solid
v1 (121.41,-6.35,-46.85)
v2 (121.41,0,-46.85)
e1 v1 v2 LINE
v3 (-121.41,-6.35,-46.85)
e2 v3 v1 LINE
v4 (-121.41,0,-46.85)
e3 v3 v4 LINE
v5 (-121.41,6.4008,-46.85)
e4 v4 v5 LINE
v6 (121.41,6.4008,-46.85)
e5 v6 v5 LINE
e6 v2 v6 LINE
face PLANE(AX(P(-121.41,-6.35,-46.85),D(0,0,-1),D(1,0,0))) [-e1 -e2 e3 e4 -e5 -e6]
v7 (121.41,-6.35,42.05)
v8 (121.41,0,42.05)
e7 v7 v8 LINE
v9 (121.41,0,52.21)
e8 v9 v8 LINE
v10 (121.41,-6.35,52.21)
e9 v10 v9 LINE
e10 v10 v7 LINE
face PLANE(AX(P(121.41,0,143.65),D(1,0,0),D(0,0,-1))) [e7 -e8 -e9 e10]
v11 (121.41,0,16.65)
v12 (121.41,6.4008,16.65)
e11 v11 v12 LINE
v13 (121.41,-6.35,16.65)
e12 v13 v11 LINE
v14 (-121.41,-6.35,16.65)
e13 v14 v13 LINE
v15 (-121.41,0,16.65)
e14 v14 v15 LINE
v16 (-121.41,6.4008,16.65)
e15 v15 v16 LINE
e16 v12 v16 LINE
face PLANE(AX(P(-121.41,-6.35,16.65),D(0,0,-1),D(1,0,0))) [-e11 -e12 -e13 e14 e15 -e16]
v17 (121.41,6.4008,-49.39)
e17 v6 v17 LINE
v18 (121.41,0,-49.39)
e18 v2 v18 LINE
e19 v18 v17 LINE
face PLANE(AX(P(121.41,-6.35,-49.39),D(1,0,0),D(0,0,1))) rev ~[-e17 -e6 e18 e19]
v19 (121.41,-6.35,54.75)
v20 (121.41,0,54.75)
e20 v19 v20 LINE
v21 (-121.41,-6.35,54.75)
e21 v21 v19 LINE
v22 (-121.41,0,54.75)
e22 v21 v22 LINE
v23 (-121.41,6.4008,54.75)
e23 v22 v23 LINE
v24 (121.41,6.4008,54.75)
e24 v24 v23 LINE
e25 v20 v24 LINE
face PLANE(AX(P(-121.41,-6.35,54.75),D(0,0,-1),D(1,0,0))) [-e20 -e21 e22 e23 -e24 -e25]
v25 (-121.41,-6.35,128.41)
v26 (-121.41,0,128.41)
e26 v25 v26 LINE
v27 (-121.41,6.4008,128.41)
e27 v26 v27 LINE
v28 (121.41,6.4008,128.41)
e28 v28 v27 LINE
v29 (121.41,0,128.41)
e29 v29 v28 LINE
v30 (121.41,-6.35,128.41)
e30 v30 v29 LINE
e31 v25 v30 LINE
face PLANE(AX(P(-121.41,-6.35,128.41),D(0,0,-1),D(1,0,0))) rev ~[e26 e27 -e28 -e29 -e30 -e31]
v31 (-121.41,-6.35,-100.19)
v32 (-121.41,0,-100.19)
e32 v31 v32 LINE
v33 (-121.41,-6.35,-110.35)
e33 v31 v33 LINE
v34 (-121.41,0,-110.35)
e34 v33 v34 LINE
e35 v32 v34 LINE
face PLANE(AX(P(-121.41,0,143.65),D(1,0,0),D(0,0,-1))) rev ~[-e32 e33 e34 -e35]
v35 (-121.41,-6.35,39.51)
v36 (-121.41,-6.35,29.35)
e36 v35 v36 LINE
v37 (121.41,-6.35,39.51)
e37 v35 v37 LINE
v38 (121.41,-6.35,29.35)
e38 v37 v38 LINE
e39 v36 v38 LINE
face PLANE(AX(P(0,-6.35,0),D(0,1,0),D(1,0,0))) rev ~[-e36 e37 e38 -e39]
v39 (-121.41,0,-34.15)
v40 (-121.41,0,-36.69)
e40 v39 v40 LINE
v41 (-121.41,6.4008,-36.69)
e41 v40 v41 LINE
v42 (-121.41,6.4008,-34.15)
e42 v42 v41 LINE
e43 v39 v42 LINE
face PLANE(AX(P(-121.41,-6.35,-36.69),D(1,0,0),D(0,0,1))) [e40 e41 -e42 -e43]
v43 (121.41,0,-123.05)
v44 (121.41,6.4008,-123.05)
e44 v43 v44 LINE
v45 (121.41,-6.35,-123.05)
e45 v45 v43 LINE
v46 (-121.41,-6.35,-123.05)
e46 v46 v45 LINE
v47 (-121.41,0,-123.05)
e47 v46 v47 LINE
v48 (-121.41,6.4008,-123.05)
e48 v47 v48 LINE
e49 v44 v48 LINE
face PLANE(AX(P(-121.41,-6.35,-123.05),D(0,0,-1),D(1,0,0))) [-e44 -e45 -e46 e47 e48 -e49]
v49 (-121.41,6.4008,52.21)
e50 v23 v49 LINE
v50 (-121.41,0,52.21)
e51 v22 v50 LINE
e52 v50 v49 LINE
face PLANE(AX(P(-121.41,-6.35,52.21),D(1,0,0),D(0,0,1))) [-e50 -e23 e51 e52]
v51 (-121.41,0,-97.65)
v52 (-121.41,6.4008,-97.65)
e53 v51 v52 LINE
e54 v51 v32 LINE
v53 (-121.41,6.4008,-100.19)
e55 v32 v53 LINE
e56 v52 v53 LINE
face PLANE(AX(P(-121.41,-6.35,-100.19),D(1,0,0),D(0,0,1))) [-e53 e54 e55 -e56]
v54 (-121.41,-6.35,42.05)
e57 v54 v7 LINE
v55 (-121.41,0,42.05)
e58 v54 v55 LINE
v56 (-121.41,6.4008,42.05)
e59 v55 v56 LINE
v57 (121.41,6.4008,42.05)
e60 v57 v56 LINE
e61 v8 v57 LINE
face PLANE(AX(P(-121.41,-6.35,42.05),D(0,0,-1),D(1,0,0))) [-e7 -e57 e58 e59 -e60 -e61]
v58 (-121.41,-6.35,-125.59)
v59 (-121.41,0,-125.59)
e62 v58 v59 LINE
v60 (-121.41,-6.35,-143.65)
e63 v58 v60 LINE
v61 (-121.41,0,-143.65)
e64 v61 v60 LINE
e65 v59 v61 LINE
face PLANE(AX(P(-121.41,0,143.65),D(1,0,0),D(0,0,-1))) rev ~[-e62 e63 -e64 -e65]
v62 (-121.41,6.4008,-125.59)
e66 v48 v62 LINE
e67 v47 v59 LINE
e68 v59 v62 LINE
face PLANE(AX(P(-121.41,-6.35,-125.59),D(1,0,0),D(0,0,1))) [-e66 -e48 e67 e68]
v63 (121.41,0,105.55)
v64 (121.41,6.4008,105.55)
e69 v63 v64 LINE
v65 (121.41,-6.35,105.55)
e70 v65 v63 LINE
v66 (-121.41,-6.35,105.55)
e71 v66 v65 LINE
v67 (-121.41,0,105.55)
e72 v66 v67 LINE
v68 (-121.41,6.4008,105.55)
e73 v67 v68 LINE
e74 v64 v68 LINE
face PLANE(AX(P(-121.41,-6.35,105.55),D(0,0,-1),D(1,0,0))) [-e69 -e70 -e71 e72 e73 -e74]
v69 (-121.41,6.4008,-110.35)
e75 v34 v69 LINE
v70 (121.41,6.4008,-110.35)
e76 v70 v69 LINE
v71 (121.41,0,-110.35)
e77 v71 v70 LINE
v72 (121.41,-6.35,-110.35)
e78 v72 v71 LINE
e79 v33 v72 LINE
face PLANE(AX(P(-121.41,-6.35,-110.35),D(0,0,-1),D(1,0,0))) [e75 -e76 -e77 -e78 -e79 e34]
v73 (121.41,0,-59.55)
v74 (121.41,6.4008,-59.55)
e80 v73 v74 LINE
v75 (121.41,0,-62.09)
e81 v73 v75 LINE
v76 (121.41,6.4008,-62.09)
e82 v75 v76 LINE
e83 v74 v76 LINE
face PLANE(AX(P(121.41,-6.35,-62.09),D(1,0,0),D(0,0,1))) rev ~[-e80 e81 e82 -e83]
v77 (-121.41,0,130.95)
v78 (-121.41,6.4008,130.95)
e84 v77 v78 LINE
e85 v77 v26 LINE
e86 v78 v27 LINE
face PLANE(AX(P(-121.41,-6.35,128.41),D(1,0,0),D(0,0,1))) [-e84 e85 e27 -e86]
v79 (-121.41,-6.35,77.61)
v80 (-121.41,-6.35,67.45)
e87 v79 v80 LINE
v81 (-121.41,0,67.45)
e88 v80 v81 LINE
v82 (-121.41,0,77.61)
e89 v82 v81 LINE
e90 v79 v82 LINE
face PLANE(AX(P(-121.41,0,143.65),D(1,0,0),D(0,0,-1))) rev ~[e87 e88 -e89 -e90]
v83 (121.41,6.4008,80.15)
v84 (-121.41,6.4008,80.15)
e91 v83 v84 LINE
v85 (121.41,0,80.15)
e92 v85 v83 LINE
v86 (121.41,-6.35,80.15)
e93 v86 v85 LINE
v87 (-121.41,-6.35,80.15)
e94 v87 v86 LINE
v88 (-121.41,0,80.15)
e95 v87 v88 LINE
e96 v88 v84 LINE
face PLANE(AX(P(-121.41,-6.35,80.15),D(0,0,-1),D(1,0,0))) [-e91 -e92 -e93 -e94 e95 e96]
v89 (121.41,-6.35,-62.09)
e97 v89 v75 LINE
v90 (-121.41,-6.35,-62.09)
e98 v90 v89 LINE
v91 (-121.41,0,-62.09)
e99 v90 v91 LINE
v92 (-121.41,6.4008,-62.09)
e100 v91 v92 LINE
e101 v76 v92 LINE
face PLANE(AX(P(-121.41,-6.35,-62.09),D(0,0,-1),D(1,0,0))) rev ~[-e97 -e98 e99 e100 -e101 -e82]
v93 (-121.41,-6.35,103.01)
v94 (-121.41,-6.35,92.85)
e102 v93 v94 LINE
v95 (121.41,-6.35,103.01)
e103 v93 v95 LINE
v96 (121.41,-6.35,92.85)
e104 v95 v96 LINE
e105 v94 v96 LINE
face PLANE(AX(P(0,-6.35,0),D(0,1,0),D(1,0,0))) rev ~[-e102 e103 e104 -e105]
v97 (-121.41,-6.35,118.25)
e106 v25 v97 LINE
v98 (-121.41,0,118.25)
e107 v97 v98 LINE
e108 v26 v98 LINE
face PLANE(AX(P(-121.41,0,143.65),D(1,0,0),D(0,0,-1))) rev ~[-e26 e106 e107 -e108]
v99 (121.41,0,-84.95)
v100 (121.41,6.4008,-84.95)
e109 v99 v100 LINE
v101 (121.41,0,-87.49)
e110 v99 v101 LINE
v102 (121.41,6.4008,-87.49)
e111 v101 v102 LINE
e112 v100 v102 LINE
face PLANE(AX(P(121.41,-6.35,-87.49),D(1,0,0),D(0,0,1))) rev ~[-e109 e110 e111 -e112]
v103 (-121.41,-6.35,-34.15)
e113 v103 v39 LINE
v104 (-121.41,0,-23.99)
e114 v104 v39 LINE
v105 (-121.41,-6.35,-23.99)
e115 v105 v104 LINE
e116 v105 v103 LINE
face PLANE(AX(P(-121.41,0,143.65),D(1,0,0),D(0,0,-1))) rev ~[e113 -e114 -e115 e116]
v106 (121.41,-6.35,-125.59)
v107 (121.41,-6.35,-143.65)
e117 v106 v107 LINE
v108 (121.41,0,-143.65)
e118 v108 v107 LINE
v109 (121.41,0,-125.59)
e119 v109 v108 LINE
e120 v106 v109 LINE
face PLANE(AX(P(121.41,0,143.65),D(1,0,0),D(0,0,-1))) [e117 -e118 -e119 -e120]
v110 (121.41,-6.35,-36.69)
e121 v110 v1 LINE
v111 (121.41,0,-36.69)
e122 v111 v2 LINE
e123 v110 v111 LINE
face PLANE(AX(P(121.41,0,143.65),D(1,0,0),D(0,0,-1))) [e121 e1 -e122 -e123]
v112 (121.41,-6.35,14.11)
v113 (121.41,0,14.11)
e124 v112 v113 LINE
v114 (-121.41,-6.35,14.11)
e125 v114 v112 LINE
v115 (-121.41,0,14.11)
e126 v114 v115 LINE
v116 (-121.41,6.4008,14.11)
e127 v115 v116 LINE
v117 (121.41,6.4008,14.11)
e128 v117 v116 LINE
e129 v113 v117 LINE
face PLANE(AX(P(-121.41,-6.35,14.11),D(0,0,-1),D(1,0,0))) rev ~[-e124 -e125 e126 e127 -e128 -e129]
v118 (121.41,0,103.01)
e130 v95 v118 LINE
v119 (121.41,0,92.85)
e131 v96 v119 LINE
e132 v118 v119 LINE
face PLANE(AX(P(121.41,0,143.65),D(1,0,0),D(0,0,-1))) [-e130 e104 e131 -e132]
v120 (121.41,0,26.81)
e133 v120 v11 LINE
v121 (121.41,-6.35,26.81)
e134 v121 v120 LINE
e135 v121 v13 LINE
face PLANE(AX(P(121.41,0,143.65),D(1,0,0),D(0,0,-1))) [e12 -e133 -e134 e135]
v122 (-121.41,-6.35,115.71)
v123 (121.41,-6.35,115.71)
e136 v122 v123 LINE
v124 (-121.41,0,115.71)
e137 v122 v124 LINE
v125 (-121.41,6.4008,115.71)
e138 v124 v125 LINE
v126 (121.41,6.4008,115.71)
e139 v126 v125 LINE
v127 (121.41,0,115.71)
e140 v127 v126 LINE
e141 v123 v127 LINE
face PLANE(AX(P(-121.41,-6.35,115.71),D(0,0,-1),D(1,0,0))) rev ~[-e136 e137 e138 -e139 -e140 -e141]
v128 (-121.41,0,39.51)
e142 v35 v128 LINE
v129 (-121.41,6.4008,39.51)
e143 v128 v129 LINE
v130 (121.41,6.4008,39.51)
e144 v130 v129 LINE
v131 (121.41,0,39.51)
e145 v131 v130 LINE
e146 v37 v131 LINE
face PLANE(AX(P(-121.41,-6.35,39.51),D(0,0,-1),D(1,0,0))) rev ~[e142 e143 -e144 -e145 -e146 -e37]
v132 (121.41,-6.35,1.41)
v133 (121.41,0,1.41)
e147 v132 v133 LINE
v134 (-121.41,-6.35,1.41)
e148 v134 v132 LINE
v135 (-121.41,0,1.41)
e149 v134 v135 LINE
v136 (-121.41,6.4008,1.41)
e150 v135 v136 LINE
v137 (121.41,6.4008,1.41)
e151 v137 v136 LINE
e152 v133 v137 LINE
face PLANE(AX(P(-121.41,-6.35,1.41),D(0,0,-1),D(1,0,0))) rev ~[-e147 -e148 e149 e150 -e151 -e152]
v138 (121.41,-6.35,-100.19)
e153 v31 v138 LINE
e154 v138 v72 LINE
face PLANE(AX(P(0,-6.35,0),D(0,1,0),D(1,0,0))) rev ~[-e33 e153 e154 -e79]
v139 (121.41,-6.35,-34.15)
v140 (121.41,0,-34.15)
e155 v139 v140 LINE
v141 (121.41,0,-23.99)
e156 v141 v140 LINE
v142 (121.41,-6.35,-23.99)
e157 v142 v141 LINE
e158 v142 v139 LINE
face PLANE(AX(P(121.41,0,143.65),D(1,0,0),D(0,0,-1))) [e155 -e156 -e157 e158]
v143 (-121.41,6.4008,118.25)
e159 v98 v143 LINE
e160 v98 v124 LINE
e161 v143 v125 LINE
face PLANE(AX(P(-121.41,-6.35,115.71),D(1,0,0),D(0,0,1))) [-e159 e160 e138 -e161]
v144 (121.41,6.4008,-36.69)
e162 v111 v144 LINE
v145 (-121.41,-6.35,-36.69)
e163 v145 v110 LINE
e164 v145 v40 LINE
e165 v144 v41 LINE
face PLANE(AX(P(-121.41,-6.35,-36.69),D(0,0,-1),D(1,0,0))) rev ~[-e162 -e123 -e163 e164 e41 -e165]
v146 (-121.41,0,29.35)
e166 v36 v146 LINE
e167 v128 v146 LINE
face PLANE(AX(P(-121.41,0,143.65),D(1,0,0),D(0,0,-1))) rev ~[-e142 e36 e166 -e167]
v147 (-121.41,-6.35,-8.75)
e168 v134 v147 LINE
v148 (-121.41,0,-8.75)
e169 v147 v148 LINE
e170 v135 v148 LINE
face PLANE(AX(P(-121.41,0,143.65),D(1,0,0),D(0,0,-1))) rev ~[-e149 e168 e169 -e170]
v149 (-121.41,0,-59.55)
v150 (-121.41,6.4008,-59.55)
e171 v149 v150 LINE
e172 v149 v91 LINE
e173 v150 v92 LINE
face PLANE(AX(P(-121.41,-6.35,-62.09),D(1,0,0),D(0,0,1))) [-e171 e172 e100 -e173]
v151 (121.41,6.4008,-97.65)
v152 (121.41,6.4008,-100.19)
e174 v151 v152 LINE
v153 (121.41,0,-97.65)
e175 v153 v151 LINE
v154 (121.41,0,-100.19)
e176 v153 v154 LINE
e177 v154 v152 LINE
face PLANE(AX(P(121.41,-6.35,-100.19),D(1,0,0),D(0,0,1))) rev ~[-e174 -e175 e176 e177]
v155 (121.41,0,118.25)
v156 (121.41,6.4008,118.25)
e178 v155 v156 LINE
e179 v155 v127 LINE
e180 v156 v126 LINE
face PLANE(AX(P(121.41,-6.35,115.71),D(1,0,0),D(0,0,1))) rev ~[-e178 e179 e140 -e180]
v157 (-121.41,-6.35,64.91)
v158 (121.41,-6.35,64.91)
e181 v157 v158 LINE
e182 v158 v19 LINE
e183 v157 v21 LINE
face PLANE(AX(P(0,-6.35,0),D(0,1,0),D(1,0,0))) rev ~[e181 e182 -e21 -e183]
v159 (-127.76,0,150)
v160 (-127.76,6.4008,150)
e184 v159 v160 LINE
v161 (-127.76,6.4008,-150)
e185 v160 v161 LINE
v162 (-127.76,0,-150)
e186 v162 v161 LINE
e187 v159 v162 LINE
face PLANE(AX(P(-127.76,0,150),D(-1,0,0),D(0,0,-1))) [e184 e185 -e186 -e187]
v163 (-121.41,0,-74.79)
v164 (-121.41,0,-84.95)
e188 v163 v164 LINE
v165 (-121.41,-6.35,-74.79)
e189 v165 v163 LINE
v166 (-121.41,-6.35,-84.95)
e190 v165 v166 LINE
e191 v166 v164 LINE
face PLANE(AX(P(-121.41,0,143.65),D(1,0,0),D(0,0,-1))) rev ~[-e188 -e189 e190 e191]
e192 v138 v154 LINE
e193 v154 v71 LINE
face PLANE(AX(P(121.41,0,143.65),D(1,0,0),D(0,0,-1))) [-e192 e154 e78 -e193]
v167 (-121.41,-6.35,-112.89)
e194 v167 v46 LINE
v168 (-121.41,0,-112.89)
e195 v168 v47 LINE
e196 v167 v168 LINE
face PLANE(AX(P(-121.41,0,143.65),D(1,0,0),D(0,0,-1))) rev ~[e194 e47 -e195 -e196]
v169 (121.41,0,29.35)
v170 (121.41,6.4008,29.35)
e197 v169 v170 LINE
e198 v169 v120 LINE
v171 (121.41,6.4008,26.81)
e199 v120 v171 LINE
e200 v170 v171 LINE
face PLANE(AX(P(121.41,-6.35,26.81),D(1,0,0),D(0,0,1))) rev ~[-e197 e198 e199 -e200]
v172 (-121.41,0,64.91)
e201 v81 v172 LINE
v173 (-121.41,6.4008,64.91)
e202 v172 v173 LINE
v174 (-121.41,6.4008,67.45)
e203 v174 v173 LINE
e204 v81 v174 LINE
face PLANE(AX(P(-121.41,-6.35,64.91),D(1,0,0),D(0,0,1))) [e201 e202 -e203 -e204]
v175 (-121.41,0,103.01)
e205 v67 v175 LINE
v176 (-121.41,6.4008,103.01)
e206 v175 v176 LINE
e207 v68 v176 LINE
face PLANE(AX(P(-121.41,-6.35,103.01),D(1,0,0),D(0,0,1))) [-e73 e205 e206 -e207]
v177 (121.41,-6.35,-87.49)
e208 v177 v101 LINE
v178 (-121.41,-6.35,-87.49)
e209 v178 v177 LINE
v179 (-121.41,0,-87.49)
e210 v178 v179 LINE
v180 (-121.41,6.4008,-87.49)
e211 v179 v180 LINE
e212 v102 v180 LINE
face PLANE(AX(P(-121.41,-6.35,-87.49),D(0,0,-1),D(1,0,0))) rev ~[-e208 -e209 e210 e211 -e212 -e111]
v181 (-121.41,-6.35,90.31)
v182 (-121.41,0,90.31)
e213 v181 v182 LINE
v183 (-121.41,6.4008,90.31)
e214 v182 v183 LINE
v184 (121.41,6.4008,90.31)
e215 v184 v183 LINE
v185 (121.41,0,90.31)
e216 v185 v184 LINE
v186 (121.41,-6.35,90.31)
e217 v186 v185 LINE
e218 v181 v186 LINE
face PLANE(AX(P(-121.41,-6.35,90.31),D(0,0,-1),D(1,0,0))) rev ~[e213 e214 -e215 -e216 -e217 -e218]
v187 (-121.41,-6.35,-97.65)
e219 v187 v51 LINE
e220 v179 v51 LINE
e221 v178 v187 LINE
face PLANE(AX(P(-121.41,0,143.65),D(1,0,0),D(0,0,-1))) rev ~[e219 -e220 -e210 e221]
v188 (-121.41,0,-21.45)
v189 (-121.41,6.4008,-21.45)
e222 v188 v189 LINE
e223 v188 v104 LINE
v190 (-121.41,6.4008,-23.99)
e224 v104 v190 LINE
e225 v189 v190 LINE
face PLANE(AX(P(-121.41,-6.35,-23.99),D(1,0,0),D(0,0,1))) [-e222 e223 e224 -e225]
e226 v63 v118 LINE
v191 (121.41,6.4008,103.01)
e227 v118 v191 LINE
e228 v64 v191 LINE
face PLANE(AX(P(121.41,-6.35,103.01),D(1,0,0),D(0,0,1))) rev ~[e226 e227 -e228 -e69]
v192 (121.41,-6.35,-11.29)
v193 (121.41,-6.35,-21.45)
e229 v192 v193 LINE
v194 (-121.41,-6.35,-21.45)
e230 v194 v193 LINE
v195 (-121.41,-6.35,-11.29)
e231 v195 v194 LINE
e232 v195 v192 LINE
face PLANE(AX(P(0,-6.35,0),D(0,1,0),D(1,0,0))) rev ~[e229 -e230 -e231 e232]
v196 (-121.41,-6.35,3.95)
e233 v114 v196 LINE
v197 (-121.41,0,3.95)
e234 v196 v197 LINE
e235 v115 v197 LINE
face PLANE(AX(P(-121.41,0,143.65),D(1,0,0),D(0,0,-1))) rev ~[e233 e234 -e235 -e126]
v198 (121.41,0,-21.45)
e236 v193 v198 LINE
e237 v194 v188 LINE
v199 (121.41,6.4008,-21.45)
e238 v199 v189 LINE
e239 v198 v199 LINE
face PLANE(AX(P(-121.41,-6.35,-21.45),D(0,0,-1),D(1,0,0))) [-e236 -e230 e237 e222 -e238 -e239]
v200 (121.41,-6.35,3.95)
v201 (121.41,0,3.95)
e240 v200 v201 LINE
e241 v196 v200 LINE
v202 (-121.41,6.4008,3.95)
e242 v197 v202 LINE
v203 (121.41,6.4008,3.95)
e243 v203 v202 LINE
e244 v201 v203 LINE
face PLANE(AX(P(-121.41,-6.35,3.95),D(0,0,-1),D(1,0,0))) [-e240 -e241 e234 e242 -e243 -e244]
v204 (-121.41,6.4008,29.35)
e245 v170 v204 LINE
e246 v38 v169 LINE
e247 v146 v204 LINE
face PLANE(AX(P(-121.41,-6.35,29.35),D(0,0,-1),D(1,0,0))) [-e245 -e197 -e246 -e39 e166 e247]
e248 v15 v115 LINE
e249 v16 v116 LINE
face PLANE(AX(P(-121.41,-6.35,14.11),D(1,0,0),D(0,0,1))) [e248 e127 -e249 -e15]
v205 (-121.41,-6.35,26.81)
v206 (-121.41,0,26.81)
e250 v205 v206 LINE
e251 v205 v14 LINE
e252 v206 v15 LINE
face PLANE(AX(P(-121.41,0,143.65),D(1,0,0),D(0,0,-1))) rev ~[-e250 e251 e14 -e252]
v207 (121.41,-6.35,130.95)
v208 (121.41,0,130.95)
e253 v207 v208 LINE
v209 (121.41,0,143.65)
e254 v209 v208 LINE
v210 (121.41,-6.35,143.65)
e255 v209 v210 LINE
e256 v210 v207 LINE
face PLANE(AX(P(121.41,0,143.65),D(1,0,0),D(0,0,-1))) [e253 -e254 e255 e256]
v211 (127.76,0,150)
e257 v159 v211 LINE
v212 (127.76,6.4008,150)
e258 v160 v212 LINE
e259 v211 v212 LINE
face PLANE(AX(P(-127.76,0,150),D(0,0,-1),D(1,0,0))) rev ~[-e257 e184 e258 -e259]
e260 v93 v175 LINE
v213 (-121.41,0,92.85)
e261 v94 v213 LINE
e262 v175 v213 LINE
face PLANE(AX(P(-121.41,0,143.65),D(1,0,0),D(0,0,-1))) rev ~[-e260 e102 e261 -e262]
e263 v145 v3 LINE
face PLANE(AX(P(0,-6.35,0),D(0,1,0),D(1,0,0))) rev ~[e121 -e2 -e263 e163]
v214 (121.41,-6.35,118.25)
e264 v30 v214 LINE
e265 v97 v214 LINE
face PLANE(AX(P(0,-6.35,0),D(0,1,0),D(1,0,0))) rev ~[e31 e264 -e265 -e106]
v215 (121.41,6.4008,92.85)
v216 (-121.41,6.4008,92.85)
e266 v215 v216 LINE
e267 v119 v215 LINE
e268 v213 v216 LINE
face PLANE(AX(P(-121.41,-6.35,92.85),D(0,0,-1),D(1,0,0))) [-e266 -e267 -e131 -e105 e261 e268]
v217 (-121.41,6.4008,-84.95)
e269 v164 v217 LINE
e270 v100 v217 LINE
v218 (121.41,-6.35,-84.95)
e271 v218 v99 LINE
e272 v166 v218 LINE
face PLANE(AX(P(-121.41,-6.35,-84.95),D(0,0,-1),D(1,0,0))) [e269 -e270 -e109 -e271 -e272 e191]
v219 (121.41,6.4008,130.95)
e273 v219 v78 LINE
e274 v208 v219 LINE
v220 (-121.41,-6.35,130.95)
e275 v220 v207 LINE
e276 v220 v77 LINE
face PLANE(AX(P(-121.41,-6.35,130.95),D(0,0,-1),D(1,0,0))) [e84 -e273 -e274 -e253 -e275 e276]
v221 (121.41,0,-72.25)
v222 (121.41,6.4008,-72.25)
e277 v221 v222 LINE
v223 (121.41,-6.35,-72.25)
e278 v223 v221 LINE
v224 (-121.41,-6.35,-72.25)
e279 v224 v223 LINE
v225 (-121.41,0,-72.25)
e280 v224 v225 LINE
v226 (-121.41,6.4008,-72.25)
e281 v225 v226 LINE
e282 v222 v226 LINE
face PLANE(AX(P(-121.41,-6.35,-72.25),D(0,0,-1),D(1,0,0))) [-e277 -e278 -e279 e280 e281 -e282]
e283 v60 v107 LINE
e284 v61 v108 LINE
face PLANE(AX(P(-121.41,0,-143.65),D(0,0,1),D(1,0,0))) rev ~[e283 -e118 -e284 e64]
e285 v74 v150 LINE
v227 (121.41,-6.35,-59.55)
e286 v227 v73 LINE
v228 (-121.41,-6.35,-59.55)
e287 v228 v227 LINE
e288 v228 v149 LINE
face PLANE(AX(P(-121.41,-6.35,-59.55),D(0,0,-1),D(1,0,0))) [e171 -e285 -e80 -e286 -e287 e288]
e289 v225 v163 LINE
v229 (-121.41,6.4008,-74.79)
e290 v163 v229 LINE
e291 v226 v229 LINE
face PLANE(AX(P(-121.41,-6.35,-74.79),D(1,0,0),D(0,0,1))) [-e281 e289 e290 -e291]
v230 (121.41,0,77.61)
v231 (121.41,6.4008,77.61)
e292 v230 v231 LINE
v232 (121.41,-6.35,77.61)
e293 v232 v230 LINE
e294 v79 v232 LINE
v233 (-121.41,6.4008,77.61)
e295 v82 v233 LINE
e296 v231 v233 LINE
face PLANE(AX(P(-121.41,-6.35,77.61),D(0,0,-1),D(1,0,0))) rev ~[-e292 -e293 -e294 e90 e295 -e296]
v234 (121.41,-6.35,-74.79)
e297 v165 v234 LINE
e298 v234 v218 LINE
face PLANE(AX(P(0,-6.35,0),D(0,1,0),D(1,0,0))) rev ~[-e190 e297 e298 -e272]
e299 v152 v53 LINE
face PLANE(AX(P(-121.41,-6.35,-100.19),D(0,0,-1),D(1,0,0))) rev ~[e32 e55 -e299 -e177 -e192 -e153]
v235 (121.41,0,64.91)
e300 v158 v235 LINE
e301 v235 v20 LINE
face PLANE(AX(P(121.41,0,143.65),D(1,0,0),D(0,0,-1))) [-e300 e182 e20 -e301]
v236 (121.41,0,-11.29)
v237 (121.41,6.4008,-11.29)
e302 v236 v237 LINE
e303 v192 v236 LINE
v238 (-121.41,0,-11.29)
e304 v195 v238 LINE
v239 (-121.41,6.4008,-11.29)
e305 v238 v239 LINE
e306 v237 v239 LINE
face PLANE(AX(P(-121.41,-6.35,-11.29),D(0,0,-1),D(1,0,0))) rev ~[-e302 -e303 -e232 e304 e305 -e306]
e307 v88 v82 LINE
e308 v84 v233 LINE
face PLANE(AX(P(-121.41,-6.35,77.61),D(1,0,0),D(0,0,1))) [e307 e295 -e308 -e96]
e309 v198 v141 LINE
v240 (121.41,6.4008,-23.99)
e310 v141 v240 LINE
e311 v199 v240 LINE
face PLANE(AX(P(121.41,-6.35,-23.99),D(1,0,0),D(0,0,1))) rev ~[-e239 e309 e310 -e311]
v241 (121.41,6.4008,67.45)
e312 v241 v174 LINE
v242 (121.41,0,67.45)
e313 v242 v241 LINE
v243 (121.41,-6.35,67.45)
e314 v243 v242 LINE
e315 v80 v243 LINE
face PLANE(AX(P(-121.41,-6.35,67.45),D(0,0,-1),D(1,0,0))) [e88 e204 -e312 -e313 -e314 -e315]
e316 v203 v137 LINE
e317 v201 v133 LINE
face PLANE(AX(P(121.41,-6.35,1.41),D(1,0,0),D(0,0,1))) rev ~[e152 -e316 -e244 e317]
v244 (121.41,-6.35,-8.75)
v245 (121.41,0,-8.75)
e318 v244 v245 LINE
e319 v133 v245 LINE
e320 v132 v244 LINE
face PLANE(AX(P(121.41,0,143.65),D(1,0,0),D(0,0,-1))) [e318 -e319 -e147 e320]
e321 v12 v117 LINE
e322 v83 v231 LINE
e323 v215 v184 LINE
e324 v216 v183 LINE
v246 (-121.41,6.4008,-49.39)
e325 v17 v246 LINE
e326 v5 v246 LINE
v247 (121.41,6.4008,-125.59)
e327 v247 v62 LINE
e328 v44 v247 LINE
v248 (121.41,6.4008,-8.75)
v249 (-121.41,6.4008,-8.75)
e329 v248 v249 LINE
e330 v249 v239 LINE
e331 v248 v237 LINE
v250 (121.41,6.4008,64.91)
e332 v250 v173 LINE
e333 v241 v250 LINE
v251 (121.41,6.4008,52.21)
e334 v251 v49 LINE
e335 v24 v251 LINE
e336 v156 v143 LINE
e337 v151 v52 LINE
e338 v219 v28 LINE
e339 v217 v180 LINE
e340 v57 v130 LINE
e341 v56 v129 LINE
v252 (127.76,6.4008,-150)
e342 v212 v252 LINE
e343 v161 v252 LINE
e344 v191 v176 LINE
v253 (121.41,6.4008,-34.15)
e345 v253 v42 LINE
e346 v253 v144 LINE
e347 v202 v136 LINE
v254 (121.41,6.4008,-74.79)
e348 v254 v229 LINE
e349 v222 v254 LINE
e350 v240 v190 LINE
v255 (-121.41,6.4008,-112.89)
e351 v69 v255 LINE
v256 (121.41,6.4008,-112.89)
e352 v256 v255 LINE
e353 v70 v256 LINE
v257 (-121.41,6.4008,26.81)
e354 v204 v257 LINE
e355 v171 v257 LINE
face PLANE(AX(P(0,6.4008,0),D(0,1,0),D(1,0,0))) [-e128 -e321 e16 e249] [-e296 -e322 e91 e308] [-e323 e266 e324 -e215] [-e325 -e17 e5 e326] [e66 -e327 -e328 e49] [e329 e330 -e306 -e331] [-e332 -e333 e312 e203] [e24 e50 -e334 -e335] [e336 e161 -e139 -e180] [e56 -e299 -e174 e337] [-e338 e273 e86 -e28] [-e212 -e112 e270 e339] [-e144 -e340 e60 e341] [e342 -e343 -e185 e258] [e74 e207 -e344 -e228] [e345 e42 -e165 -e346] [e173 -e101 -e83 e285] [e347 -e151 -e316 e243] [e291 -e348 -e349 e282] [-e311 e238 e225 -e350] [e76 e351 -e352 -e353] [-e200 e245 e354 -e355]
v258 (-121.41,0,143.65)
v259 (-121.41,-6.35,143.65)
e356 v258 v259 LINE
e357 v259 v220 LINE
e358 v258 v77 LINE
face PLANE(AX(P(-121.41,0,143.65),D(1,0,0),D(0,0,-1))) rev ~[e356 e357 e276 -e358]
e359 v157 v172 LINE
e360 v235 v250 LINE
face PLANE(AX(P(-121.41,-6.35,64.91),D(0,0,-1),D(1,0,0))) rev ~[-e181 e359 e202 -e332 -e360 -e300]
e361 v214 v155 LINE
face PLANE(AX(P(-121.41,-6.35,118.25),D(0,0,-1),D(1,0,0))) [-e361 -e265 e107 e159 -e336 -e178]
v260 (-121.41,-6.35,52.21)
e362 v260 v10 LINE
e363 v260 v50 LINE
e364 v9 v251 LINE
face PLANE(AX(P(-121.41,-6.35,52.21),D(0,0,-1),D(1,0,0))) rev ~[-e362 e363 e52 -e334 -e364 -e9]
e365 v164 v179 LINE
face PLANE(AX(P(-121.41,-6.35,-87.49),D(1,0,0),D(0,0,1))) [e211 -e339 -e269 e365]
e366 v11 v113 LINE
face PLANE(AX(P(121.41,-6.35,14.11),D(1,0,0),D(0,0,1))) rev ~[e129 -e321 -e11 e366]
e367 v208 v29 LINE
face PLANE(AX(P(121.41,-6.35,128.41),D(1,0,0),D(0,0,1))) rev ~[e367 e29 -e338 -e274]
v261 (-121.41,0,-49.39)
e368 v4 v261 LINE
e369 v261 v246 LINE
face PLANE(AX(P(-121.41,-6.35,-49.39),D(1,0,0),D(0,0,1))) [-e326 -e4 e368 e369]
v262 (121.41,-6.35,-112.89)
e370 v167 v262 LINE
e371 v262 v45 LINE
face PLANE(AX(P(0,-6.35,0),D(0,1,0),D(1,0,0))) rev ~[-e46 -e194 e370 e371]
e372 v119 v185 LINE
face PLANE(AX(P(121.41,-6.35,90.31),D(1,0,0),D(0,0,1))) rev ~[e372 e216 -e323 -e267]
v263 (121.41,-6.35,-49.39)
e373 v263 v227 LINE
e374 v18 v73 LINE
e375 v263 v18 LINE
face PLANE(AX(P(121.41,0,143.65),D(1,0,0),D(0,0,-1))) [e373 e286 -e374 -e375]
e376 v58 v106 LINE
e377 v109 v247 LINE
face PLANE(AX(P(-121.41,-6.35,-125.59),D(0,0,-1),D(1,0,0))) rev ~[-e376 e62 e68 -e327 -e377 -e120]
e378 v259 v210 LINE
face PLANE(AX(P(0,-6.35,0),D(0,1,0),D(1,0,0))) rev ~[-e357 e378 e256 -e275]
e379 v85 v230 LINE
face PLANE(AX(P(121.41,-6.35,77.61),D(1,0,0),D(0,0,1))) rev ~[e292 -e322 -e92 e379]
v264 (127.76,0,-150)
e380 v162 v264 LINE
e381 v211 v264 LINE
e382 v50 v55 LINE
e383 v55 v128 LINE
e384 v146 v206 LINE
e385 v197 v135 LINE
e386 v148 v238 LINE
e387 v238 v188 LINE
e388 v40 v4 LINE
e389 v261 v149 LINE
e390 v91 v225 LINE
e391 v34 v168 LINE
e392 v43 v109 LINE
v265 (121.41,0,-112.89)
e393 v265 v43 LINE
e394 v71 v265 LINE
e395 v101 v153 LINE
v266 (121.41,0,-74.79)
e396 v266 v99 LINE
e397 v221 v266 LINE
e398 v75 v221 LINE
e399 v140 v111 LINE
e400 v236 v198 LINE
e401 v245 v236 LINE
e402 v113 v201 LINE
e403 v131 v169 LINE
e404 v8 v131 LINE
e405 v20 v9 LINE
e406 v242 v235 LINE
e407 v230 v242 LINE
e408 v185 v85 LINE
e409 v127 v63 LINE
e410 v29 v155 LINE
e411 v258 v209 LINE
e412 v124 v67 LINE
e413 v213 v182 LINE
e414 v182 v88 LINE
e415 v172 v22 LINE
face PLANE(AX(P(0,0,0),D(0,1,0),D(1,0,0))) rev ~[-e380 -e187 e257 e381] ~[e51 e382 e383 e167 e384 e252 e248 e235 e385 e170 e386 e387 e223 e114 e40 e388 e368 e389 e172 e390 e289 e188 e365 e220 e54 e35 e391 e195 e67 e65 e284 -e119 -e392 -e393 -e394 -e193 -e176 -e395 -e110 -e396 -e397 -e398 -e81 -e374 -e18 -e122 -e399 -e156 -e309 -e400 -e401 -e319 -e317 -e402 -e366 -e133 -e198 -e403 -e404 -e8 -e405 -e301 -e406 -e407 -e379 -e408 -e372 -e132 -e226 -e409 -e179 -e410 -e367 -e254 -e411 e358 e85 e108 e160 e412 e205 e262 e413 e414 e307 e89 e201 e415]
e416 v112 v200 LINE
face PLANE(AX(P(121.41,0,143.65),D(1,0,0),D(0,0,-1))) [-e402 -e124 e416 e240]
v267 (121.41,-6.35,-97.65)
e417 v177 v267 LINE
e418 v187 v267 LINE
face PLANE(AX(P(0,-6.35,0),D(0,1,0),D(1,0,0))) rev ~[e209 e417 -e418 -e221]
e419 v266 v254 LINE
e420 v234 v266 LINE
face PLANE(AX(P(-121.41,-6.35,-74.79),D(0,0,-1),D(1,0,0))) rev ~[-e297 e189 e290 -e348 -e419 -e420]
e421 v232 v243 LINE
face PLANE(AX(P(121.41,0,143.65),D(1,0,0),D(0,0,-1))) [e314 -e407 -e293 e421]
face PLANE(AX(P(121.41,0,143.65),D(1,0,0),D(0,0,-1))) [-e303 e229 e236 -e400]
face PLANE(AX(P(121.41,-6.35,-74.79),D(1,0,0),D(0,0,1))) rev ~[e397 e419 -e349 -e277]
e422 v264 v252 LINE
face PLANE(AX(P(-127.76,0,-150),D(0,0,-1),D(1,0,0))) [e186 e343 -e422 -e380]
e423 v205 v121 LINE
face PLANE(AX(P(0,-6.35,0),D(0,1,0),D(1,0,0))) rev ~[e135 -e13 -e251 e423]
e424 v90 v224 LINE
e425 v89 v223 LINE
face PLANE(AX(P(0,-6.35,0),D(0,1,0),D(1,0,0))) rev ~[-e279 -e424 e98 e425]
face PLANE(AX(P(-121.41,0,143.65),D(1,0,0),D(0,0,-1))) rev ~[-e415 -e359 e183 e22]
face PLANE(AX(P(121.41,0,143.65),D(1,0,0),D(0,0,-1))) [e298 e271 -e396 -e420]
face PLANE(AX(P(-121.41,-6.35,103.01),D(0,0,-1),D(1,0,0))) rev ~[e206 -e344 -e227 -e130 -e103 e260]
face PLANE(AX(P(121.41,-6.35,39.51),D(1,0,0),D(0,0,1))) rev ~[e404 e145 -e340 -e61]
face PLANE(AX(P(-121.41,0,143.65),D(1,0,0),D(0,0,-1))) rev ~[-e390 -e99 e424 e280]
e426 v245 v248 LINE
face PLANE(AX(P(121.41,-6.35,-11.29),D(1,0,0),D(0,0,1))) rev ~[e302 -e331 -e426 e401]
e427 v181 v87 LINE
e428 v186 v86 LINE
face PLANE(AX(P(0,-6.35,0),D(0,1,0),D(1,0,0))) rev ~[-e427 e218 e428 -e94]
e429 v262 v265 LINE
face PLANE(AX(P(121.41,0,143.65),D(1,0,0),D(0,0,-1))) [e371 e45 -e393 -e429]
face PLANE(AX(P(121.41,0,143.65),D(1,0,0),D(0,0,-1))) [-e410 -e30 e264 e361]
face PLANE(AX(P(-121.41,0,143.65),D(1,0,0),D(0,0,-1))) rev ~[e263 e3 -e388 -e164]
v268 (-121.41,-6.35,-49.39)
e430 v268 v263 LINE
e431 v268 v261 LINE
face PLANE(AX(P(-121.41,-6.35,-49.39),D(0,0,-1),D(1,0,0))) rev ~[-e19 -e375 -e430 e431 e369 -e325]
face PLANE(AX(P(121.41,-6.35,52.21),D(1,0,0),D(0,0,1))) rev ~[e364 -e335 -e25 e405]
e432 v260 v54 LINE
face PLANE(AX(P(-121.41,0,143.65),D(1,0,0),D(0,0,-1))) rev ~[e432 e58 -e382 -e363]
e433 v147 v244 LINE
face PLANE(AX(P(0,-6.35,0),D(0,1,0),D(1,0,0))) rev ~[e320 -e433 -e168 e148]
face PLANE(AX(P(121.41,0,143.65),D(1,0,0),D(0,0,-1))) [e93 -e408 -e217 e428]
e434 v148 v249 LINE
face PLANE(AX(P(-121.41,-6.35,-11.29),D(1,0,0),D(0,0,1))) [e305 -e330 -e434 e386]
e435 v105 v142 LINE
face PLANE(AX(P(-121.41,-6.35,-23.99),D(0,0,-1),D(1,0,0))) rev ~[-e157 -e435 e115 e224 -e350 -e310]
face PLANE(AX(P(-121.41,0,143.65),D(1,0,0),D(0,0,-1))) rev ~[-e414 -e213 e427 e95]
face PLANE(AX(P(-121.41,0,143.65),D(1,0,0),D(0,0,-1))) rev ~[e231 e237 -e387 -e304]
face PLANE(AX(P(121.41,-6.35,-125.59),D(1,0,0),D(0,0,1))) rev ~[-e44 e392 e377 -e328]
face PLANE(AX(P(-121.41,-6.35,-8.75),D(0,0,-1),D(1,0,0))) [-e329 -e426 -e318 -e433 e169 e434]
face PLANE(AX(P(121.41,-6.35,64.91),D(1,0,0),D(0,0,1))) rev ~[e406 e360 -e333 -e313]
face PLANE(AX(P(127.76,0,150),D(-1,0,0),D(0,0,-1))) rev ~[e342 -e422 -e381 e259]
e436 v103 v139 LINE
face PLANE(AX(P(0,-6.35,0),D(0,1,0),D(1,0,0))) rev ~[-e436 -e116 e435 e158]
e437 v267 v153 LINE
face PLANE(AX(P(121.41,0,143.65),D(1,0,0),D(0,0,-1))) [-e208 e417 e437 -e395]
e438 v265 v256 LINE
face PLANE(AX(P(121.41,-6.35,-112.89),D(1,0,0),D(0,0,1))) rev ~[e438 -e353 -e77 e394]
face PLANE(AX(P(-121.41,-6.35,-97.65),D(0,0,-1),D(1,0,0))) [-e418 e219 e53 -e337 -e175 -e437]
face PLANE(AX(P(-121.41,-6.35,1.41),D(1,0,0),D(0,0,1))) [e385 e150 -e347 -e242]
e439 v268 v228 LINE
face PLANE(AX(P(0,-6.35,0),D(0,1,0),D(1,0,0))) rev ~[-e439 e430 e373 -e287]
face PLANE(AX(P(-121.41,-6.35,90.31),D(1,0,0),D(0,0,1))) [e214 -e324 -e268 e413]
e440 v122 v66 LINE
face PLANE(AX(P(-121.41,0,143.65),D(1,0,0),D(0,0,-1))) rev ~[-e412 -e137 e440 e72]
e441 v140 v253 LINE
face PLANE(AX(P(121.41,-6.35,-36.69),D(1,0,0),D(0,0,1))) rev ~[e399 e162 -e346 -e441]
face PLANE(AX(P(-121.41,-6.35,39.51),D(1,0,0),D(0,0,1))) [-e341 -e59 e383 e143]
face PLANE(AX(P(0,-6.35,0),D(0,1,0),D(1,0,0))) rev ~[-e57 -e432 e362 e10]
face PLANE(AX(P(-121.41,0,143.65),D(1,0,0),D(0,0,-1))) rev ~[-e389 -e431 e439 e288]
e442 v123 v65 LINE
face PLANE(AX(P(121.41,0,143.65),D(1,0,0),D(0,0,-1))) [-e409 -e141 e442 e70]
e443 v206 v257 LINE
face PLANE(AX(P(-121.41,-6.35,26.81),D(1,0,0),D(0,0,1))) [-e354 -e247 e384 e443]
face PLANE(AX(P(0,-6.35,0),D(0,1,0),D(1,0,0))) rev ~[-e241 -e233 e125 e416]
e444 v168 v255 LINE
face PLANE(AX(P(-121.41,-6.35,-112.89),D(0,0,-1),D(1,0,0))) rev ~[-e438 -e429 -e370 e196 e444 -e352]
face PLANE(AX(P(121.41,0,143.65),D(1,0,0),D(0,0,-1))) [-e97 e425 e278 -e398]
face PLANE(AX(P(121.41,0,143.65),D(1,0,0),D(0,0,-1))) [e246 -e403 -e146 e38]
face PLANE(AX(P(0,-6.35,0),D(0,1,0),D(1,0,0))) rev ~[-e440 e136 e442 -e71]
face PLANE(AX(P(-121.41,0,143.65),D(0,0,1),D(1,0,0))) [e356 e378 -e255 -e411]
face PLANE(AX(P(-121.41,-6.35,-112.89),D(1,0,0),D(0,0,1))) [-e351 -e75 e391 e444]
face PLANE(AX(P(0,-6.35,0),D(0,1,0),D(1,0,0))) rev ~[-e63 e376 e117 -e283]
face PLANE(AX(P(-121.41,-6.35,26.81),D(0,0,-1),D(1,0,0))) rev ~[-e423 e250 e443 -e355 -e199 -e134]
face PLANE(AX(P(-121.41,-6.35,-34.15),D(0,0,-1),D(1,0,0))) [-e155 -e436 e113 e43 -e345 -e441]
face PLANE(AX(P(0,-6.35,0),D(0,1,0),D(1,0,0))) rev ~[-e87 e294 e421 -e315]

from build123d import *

# Parameters (mm, degrees)
SKETCH1_W           = 242.82
SKETCH1_H           = 287.3
BOSS_EXTRUDE1_DEPTH = 6.35
SKETCH4_W           = 255.52
SKETCH4_H           = 300
BOSS_EXTRUDE4_DEPTH = 6.4008
SKETCH5_W           = 242.82
SKETCH5_H           = 2.54
BOSS_EXTRUDE5_DEPTH = 49.5808
LPATTERN1_COUNT     = 21
LPATTERN1_PITCH     = 12.7


with BuildPart() as part:
    # Sketch1 → Boss-Extrude1 (new body)
    with BuildSketch(Plane(origin=(0, 0, 0), x_dir=(1, 0, 0), z_dir=(0, 1, 0))):
        Rectangle(SKETCH1_W, SKETCH1_H)
    extrude(amount=-BOSS_EXTRUDE1_DEPTH)

    # Sketch4 → Boss-Extrude4 (add)
    with BuildSketch(Plane(origin=(0, 0, 0), x_dir=(1, 0, 0), z_dir=(0, 1, 0))):
        Rectangle(SKETCH4_W, SKETCH4_H)
    extrude(amount=BOSS_EXTRUDE4_DEPTH)


with BuildPart() as body_2:
    # Sketch5 → Boss-Extrude5 (new body)
    with BuildSketch(Plane.XZ.offset(6.35)):
        with Locations((0, 129.68)):
            Rectangle(SKETCH5_W, SKETCH5_H)
    boss_extrude5 = extrude(amount=-BOSS_EXTRUDE5_DEPTH)


with BuildPart() as lpattern1_1:
    # LPattern1: pattern copy
    add(boss_extrude5.moved(Location(Vector(0, 0, -1) * (1 * LPATTERN1_PITCH))))


with BuildPart() as lpattern1_2:
    # LPattern1: pattern copy
    add(boss_extrude5.moved(Location(Vector(0, 0, -1) * (2 * LPATTERN1_PITCH))))


with BuildPart() as lpattern1_3:
    # LPattern1: pattern copy
    add(boss_extrude5.moved(Location(Vector(0, 0, -1) * (3 * LPATTERN1_PITCH))))


with BuildPart() as lpattern1_4:
    # LPattern1: pattern copy
    add(boss_extrude5.moved(Location(Vector(0, 0, -1) * (4 * LPATTERN1_PITCH))))


with BuildPart() as lpattern1_5:
    # LPattern1: pattern copy
    add(boss_extrude5.moved(Location(Vector(0, 0, -1) * (5 * LPATTERN1_PITCH))))


with BuildPart() as lpattern1_6:
    # LPattern1: pattern copy
    add(boss_extrude5.moved(Location(Vector(0, 0, -1) * (6 * LPATTERN1_PITCH))))


with BuildPart() as lpattern1_7:
    # LPattern1: pattern copy
    add(boss_extrude5.moved(Location(Vector(0, 0, -1) * (7 * LPATTERN1_PITCH))))


with BuildPart() as lpattern1_8:
    # LPattern1: pattern copy
    add(boss_extrude5.moved(Location(Vector(0, 0, -1) * (8 * LPATTERN1_PITCH))))


with BuildPart() as lpattern1_9:
    # LPattern1: pattern copy
    add(boss_extrude5.moved(Location(Vector(0, 0, -1) * (9 * LPATTERN1_PITCH))))


with BuildPart() as lpattern1_10:
    # LPattern1: pattern copy
    add(boss_extrude5.moved(Location(Vector(0, 0, -1) * (10 * LPATTERN1_PITCH))))


with BuildPart() as lpattern1_11:
    # LPattern1: pattern copy
    add(boss_extrude5.moved(Location(Vector(0, 0, -1) * (11 * LPATTERN1_PITCH))))


with BuildPart() as lpattern1_12:
    # LPattern1: pattern copy
    add(boss_extrude5.moved(Location(Vector(0, 0, -1) * (12 * LPATTERN1_PITCH))))


with BuildPart() as lpattern1_13:
    # LPattern1: pattern copy
    add(boss_extrude5.moved(Location(Vector(0, 0, -1) * (13 * LPATTERN1_PITCH))))


with BuildPart() as lpattern1_14:
    # LPattern1: pattern copy
    add(boss_extrude5.moved(Location(Vector(0, 0, -1) * (14 * LPATTERN1_PITCH))))


with BuildPart() as lpattern1_15:
    # LPattern1: pattern copy
    add(boss_extrude5.moved(Location(Vector(0, 0, -1) * (15 * LPATTERN1_PITCH))))


with BuildPart() as lpattern1_16:
    # LPattern1: pattern copy
    add(boss_extrude5.moved(Location(Vector(0, 0, -1) * (16 * LPATTERN1_PITCH))))


with BuildPart() as lpattern1_17:
    # LPattern1: pattern copy
    add(boss_extrude5.moved(Location(Vector(0, 0, -1) * (17 * LPATTERN1_PITCH))))


with BuildPart() as lpattern1_18:
    # LPattern1: pattern copy
    add(boss_extrude5.moved(Location(Vector(0, 0, -1) * (18 * LPATTERN1_PITCH))))


with BuildPart() as lpattern1_19:
    # LPattern1: pattern copy
    add(boss_extrude5.moved(Location(Vector(0, 0, -1) * (19 * LPATTERN1_PITCH))))


with BuildPart() as lpattern1_20:
    # LPattern1: pattern copy
    add(boss_extrude5.moved(Location(Vector(0, 0, -1) * (20 * LPATTERN1_PITCH))))


with BuildPart() as part_1:
    add(part.part)

    # Combine1: cut body 2, LPattern1_1, LPattern1_2, LPattern1_3, LPattern1_5, LPattern1_6, LPattern1_4, LPattern1_7, LPattern1_8, LPattern1_10, LPattern1_11, LPattern1_9, LPattern1_12, LPattern1_16, LPattern1_18, LPattern1_20, LPattern1_19, LPattern1_17, LPattern1_15, LPattern1_14, LPattern1_13
    add(body_2.part, mode=Mode.SUBTRACT)
    add(lpattern1_1.part, mode=Mode.SUBTRACT)
    add(lpattern1_2.part, mode=Mode.SUBTRACT)
    add(lpattern1_3.part, mode=Mode.SUBTRACT)
    add(lpattern1_5.part, mode=Mode.SUBTRACT)
    add(lpattern1_6.part, mode=Mode.SUBTRACT)
    add(lpattern1_4.part, mode=Mode.SUBTRACT)
    add(lpattern1_7.part, mode=Mode.SUBTRACT)
    add(lpattern1_8.part, mode=Mode.SUBTRACT)
    add(lpattern1_10.part, mode=Mode.SUBTRACT)
    add(lpattern1_11.part, mode=Mode.SUBTRACT)
    add(lpattern1_9.part, mode=Mode.SUBTRACT)
    add(lpattern1_12.part, mode=Mode.SUBTRACT)
    add(lpattern1_16.part, mode=Mode.SUBTRACT)
    add(lpattern1_18.part, mode=Mode.SUBTRACT)
    add(lpattern1_20.part, mode=Mode.SUBTRACT)
    add(lpattern1_19.part, mode=Mode.SUBTRACT)
    add(lpattern1_17.part, mode=Mode.SUBTRACT)
    add(lpattern1_15.part, mode=Mode.SUBTRACT)
    add(lpattern1_14.part, mode=Mode.SUBTRACT)
    add(lpattern1_13.part, mode=Mode.SUBTRACT)


solid = part_1.part
